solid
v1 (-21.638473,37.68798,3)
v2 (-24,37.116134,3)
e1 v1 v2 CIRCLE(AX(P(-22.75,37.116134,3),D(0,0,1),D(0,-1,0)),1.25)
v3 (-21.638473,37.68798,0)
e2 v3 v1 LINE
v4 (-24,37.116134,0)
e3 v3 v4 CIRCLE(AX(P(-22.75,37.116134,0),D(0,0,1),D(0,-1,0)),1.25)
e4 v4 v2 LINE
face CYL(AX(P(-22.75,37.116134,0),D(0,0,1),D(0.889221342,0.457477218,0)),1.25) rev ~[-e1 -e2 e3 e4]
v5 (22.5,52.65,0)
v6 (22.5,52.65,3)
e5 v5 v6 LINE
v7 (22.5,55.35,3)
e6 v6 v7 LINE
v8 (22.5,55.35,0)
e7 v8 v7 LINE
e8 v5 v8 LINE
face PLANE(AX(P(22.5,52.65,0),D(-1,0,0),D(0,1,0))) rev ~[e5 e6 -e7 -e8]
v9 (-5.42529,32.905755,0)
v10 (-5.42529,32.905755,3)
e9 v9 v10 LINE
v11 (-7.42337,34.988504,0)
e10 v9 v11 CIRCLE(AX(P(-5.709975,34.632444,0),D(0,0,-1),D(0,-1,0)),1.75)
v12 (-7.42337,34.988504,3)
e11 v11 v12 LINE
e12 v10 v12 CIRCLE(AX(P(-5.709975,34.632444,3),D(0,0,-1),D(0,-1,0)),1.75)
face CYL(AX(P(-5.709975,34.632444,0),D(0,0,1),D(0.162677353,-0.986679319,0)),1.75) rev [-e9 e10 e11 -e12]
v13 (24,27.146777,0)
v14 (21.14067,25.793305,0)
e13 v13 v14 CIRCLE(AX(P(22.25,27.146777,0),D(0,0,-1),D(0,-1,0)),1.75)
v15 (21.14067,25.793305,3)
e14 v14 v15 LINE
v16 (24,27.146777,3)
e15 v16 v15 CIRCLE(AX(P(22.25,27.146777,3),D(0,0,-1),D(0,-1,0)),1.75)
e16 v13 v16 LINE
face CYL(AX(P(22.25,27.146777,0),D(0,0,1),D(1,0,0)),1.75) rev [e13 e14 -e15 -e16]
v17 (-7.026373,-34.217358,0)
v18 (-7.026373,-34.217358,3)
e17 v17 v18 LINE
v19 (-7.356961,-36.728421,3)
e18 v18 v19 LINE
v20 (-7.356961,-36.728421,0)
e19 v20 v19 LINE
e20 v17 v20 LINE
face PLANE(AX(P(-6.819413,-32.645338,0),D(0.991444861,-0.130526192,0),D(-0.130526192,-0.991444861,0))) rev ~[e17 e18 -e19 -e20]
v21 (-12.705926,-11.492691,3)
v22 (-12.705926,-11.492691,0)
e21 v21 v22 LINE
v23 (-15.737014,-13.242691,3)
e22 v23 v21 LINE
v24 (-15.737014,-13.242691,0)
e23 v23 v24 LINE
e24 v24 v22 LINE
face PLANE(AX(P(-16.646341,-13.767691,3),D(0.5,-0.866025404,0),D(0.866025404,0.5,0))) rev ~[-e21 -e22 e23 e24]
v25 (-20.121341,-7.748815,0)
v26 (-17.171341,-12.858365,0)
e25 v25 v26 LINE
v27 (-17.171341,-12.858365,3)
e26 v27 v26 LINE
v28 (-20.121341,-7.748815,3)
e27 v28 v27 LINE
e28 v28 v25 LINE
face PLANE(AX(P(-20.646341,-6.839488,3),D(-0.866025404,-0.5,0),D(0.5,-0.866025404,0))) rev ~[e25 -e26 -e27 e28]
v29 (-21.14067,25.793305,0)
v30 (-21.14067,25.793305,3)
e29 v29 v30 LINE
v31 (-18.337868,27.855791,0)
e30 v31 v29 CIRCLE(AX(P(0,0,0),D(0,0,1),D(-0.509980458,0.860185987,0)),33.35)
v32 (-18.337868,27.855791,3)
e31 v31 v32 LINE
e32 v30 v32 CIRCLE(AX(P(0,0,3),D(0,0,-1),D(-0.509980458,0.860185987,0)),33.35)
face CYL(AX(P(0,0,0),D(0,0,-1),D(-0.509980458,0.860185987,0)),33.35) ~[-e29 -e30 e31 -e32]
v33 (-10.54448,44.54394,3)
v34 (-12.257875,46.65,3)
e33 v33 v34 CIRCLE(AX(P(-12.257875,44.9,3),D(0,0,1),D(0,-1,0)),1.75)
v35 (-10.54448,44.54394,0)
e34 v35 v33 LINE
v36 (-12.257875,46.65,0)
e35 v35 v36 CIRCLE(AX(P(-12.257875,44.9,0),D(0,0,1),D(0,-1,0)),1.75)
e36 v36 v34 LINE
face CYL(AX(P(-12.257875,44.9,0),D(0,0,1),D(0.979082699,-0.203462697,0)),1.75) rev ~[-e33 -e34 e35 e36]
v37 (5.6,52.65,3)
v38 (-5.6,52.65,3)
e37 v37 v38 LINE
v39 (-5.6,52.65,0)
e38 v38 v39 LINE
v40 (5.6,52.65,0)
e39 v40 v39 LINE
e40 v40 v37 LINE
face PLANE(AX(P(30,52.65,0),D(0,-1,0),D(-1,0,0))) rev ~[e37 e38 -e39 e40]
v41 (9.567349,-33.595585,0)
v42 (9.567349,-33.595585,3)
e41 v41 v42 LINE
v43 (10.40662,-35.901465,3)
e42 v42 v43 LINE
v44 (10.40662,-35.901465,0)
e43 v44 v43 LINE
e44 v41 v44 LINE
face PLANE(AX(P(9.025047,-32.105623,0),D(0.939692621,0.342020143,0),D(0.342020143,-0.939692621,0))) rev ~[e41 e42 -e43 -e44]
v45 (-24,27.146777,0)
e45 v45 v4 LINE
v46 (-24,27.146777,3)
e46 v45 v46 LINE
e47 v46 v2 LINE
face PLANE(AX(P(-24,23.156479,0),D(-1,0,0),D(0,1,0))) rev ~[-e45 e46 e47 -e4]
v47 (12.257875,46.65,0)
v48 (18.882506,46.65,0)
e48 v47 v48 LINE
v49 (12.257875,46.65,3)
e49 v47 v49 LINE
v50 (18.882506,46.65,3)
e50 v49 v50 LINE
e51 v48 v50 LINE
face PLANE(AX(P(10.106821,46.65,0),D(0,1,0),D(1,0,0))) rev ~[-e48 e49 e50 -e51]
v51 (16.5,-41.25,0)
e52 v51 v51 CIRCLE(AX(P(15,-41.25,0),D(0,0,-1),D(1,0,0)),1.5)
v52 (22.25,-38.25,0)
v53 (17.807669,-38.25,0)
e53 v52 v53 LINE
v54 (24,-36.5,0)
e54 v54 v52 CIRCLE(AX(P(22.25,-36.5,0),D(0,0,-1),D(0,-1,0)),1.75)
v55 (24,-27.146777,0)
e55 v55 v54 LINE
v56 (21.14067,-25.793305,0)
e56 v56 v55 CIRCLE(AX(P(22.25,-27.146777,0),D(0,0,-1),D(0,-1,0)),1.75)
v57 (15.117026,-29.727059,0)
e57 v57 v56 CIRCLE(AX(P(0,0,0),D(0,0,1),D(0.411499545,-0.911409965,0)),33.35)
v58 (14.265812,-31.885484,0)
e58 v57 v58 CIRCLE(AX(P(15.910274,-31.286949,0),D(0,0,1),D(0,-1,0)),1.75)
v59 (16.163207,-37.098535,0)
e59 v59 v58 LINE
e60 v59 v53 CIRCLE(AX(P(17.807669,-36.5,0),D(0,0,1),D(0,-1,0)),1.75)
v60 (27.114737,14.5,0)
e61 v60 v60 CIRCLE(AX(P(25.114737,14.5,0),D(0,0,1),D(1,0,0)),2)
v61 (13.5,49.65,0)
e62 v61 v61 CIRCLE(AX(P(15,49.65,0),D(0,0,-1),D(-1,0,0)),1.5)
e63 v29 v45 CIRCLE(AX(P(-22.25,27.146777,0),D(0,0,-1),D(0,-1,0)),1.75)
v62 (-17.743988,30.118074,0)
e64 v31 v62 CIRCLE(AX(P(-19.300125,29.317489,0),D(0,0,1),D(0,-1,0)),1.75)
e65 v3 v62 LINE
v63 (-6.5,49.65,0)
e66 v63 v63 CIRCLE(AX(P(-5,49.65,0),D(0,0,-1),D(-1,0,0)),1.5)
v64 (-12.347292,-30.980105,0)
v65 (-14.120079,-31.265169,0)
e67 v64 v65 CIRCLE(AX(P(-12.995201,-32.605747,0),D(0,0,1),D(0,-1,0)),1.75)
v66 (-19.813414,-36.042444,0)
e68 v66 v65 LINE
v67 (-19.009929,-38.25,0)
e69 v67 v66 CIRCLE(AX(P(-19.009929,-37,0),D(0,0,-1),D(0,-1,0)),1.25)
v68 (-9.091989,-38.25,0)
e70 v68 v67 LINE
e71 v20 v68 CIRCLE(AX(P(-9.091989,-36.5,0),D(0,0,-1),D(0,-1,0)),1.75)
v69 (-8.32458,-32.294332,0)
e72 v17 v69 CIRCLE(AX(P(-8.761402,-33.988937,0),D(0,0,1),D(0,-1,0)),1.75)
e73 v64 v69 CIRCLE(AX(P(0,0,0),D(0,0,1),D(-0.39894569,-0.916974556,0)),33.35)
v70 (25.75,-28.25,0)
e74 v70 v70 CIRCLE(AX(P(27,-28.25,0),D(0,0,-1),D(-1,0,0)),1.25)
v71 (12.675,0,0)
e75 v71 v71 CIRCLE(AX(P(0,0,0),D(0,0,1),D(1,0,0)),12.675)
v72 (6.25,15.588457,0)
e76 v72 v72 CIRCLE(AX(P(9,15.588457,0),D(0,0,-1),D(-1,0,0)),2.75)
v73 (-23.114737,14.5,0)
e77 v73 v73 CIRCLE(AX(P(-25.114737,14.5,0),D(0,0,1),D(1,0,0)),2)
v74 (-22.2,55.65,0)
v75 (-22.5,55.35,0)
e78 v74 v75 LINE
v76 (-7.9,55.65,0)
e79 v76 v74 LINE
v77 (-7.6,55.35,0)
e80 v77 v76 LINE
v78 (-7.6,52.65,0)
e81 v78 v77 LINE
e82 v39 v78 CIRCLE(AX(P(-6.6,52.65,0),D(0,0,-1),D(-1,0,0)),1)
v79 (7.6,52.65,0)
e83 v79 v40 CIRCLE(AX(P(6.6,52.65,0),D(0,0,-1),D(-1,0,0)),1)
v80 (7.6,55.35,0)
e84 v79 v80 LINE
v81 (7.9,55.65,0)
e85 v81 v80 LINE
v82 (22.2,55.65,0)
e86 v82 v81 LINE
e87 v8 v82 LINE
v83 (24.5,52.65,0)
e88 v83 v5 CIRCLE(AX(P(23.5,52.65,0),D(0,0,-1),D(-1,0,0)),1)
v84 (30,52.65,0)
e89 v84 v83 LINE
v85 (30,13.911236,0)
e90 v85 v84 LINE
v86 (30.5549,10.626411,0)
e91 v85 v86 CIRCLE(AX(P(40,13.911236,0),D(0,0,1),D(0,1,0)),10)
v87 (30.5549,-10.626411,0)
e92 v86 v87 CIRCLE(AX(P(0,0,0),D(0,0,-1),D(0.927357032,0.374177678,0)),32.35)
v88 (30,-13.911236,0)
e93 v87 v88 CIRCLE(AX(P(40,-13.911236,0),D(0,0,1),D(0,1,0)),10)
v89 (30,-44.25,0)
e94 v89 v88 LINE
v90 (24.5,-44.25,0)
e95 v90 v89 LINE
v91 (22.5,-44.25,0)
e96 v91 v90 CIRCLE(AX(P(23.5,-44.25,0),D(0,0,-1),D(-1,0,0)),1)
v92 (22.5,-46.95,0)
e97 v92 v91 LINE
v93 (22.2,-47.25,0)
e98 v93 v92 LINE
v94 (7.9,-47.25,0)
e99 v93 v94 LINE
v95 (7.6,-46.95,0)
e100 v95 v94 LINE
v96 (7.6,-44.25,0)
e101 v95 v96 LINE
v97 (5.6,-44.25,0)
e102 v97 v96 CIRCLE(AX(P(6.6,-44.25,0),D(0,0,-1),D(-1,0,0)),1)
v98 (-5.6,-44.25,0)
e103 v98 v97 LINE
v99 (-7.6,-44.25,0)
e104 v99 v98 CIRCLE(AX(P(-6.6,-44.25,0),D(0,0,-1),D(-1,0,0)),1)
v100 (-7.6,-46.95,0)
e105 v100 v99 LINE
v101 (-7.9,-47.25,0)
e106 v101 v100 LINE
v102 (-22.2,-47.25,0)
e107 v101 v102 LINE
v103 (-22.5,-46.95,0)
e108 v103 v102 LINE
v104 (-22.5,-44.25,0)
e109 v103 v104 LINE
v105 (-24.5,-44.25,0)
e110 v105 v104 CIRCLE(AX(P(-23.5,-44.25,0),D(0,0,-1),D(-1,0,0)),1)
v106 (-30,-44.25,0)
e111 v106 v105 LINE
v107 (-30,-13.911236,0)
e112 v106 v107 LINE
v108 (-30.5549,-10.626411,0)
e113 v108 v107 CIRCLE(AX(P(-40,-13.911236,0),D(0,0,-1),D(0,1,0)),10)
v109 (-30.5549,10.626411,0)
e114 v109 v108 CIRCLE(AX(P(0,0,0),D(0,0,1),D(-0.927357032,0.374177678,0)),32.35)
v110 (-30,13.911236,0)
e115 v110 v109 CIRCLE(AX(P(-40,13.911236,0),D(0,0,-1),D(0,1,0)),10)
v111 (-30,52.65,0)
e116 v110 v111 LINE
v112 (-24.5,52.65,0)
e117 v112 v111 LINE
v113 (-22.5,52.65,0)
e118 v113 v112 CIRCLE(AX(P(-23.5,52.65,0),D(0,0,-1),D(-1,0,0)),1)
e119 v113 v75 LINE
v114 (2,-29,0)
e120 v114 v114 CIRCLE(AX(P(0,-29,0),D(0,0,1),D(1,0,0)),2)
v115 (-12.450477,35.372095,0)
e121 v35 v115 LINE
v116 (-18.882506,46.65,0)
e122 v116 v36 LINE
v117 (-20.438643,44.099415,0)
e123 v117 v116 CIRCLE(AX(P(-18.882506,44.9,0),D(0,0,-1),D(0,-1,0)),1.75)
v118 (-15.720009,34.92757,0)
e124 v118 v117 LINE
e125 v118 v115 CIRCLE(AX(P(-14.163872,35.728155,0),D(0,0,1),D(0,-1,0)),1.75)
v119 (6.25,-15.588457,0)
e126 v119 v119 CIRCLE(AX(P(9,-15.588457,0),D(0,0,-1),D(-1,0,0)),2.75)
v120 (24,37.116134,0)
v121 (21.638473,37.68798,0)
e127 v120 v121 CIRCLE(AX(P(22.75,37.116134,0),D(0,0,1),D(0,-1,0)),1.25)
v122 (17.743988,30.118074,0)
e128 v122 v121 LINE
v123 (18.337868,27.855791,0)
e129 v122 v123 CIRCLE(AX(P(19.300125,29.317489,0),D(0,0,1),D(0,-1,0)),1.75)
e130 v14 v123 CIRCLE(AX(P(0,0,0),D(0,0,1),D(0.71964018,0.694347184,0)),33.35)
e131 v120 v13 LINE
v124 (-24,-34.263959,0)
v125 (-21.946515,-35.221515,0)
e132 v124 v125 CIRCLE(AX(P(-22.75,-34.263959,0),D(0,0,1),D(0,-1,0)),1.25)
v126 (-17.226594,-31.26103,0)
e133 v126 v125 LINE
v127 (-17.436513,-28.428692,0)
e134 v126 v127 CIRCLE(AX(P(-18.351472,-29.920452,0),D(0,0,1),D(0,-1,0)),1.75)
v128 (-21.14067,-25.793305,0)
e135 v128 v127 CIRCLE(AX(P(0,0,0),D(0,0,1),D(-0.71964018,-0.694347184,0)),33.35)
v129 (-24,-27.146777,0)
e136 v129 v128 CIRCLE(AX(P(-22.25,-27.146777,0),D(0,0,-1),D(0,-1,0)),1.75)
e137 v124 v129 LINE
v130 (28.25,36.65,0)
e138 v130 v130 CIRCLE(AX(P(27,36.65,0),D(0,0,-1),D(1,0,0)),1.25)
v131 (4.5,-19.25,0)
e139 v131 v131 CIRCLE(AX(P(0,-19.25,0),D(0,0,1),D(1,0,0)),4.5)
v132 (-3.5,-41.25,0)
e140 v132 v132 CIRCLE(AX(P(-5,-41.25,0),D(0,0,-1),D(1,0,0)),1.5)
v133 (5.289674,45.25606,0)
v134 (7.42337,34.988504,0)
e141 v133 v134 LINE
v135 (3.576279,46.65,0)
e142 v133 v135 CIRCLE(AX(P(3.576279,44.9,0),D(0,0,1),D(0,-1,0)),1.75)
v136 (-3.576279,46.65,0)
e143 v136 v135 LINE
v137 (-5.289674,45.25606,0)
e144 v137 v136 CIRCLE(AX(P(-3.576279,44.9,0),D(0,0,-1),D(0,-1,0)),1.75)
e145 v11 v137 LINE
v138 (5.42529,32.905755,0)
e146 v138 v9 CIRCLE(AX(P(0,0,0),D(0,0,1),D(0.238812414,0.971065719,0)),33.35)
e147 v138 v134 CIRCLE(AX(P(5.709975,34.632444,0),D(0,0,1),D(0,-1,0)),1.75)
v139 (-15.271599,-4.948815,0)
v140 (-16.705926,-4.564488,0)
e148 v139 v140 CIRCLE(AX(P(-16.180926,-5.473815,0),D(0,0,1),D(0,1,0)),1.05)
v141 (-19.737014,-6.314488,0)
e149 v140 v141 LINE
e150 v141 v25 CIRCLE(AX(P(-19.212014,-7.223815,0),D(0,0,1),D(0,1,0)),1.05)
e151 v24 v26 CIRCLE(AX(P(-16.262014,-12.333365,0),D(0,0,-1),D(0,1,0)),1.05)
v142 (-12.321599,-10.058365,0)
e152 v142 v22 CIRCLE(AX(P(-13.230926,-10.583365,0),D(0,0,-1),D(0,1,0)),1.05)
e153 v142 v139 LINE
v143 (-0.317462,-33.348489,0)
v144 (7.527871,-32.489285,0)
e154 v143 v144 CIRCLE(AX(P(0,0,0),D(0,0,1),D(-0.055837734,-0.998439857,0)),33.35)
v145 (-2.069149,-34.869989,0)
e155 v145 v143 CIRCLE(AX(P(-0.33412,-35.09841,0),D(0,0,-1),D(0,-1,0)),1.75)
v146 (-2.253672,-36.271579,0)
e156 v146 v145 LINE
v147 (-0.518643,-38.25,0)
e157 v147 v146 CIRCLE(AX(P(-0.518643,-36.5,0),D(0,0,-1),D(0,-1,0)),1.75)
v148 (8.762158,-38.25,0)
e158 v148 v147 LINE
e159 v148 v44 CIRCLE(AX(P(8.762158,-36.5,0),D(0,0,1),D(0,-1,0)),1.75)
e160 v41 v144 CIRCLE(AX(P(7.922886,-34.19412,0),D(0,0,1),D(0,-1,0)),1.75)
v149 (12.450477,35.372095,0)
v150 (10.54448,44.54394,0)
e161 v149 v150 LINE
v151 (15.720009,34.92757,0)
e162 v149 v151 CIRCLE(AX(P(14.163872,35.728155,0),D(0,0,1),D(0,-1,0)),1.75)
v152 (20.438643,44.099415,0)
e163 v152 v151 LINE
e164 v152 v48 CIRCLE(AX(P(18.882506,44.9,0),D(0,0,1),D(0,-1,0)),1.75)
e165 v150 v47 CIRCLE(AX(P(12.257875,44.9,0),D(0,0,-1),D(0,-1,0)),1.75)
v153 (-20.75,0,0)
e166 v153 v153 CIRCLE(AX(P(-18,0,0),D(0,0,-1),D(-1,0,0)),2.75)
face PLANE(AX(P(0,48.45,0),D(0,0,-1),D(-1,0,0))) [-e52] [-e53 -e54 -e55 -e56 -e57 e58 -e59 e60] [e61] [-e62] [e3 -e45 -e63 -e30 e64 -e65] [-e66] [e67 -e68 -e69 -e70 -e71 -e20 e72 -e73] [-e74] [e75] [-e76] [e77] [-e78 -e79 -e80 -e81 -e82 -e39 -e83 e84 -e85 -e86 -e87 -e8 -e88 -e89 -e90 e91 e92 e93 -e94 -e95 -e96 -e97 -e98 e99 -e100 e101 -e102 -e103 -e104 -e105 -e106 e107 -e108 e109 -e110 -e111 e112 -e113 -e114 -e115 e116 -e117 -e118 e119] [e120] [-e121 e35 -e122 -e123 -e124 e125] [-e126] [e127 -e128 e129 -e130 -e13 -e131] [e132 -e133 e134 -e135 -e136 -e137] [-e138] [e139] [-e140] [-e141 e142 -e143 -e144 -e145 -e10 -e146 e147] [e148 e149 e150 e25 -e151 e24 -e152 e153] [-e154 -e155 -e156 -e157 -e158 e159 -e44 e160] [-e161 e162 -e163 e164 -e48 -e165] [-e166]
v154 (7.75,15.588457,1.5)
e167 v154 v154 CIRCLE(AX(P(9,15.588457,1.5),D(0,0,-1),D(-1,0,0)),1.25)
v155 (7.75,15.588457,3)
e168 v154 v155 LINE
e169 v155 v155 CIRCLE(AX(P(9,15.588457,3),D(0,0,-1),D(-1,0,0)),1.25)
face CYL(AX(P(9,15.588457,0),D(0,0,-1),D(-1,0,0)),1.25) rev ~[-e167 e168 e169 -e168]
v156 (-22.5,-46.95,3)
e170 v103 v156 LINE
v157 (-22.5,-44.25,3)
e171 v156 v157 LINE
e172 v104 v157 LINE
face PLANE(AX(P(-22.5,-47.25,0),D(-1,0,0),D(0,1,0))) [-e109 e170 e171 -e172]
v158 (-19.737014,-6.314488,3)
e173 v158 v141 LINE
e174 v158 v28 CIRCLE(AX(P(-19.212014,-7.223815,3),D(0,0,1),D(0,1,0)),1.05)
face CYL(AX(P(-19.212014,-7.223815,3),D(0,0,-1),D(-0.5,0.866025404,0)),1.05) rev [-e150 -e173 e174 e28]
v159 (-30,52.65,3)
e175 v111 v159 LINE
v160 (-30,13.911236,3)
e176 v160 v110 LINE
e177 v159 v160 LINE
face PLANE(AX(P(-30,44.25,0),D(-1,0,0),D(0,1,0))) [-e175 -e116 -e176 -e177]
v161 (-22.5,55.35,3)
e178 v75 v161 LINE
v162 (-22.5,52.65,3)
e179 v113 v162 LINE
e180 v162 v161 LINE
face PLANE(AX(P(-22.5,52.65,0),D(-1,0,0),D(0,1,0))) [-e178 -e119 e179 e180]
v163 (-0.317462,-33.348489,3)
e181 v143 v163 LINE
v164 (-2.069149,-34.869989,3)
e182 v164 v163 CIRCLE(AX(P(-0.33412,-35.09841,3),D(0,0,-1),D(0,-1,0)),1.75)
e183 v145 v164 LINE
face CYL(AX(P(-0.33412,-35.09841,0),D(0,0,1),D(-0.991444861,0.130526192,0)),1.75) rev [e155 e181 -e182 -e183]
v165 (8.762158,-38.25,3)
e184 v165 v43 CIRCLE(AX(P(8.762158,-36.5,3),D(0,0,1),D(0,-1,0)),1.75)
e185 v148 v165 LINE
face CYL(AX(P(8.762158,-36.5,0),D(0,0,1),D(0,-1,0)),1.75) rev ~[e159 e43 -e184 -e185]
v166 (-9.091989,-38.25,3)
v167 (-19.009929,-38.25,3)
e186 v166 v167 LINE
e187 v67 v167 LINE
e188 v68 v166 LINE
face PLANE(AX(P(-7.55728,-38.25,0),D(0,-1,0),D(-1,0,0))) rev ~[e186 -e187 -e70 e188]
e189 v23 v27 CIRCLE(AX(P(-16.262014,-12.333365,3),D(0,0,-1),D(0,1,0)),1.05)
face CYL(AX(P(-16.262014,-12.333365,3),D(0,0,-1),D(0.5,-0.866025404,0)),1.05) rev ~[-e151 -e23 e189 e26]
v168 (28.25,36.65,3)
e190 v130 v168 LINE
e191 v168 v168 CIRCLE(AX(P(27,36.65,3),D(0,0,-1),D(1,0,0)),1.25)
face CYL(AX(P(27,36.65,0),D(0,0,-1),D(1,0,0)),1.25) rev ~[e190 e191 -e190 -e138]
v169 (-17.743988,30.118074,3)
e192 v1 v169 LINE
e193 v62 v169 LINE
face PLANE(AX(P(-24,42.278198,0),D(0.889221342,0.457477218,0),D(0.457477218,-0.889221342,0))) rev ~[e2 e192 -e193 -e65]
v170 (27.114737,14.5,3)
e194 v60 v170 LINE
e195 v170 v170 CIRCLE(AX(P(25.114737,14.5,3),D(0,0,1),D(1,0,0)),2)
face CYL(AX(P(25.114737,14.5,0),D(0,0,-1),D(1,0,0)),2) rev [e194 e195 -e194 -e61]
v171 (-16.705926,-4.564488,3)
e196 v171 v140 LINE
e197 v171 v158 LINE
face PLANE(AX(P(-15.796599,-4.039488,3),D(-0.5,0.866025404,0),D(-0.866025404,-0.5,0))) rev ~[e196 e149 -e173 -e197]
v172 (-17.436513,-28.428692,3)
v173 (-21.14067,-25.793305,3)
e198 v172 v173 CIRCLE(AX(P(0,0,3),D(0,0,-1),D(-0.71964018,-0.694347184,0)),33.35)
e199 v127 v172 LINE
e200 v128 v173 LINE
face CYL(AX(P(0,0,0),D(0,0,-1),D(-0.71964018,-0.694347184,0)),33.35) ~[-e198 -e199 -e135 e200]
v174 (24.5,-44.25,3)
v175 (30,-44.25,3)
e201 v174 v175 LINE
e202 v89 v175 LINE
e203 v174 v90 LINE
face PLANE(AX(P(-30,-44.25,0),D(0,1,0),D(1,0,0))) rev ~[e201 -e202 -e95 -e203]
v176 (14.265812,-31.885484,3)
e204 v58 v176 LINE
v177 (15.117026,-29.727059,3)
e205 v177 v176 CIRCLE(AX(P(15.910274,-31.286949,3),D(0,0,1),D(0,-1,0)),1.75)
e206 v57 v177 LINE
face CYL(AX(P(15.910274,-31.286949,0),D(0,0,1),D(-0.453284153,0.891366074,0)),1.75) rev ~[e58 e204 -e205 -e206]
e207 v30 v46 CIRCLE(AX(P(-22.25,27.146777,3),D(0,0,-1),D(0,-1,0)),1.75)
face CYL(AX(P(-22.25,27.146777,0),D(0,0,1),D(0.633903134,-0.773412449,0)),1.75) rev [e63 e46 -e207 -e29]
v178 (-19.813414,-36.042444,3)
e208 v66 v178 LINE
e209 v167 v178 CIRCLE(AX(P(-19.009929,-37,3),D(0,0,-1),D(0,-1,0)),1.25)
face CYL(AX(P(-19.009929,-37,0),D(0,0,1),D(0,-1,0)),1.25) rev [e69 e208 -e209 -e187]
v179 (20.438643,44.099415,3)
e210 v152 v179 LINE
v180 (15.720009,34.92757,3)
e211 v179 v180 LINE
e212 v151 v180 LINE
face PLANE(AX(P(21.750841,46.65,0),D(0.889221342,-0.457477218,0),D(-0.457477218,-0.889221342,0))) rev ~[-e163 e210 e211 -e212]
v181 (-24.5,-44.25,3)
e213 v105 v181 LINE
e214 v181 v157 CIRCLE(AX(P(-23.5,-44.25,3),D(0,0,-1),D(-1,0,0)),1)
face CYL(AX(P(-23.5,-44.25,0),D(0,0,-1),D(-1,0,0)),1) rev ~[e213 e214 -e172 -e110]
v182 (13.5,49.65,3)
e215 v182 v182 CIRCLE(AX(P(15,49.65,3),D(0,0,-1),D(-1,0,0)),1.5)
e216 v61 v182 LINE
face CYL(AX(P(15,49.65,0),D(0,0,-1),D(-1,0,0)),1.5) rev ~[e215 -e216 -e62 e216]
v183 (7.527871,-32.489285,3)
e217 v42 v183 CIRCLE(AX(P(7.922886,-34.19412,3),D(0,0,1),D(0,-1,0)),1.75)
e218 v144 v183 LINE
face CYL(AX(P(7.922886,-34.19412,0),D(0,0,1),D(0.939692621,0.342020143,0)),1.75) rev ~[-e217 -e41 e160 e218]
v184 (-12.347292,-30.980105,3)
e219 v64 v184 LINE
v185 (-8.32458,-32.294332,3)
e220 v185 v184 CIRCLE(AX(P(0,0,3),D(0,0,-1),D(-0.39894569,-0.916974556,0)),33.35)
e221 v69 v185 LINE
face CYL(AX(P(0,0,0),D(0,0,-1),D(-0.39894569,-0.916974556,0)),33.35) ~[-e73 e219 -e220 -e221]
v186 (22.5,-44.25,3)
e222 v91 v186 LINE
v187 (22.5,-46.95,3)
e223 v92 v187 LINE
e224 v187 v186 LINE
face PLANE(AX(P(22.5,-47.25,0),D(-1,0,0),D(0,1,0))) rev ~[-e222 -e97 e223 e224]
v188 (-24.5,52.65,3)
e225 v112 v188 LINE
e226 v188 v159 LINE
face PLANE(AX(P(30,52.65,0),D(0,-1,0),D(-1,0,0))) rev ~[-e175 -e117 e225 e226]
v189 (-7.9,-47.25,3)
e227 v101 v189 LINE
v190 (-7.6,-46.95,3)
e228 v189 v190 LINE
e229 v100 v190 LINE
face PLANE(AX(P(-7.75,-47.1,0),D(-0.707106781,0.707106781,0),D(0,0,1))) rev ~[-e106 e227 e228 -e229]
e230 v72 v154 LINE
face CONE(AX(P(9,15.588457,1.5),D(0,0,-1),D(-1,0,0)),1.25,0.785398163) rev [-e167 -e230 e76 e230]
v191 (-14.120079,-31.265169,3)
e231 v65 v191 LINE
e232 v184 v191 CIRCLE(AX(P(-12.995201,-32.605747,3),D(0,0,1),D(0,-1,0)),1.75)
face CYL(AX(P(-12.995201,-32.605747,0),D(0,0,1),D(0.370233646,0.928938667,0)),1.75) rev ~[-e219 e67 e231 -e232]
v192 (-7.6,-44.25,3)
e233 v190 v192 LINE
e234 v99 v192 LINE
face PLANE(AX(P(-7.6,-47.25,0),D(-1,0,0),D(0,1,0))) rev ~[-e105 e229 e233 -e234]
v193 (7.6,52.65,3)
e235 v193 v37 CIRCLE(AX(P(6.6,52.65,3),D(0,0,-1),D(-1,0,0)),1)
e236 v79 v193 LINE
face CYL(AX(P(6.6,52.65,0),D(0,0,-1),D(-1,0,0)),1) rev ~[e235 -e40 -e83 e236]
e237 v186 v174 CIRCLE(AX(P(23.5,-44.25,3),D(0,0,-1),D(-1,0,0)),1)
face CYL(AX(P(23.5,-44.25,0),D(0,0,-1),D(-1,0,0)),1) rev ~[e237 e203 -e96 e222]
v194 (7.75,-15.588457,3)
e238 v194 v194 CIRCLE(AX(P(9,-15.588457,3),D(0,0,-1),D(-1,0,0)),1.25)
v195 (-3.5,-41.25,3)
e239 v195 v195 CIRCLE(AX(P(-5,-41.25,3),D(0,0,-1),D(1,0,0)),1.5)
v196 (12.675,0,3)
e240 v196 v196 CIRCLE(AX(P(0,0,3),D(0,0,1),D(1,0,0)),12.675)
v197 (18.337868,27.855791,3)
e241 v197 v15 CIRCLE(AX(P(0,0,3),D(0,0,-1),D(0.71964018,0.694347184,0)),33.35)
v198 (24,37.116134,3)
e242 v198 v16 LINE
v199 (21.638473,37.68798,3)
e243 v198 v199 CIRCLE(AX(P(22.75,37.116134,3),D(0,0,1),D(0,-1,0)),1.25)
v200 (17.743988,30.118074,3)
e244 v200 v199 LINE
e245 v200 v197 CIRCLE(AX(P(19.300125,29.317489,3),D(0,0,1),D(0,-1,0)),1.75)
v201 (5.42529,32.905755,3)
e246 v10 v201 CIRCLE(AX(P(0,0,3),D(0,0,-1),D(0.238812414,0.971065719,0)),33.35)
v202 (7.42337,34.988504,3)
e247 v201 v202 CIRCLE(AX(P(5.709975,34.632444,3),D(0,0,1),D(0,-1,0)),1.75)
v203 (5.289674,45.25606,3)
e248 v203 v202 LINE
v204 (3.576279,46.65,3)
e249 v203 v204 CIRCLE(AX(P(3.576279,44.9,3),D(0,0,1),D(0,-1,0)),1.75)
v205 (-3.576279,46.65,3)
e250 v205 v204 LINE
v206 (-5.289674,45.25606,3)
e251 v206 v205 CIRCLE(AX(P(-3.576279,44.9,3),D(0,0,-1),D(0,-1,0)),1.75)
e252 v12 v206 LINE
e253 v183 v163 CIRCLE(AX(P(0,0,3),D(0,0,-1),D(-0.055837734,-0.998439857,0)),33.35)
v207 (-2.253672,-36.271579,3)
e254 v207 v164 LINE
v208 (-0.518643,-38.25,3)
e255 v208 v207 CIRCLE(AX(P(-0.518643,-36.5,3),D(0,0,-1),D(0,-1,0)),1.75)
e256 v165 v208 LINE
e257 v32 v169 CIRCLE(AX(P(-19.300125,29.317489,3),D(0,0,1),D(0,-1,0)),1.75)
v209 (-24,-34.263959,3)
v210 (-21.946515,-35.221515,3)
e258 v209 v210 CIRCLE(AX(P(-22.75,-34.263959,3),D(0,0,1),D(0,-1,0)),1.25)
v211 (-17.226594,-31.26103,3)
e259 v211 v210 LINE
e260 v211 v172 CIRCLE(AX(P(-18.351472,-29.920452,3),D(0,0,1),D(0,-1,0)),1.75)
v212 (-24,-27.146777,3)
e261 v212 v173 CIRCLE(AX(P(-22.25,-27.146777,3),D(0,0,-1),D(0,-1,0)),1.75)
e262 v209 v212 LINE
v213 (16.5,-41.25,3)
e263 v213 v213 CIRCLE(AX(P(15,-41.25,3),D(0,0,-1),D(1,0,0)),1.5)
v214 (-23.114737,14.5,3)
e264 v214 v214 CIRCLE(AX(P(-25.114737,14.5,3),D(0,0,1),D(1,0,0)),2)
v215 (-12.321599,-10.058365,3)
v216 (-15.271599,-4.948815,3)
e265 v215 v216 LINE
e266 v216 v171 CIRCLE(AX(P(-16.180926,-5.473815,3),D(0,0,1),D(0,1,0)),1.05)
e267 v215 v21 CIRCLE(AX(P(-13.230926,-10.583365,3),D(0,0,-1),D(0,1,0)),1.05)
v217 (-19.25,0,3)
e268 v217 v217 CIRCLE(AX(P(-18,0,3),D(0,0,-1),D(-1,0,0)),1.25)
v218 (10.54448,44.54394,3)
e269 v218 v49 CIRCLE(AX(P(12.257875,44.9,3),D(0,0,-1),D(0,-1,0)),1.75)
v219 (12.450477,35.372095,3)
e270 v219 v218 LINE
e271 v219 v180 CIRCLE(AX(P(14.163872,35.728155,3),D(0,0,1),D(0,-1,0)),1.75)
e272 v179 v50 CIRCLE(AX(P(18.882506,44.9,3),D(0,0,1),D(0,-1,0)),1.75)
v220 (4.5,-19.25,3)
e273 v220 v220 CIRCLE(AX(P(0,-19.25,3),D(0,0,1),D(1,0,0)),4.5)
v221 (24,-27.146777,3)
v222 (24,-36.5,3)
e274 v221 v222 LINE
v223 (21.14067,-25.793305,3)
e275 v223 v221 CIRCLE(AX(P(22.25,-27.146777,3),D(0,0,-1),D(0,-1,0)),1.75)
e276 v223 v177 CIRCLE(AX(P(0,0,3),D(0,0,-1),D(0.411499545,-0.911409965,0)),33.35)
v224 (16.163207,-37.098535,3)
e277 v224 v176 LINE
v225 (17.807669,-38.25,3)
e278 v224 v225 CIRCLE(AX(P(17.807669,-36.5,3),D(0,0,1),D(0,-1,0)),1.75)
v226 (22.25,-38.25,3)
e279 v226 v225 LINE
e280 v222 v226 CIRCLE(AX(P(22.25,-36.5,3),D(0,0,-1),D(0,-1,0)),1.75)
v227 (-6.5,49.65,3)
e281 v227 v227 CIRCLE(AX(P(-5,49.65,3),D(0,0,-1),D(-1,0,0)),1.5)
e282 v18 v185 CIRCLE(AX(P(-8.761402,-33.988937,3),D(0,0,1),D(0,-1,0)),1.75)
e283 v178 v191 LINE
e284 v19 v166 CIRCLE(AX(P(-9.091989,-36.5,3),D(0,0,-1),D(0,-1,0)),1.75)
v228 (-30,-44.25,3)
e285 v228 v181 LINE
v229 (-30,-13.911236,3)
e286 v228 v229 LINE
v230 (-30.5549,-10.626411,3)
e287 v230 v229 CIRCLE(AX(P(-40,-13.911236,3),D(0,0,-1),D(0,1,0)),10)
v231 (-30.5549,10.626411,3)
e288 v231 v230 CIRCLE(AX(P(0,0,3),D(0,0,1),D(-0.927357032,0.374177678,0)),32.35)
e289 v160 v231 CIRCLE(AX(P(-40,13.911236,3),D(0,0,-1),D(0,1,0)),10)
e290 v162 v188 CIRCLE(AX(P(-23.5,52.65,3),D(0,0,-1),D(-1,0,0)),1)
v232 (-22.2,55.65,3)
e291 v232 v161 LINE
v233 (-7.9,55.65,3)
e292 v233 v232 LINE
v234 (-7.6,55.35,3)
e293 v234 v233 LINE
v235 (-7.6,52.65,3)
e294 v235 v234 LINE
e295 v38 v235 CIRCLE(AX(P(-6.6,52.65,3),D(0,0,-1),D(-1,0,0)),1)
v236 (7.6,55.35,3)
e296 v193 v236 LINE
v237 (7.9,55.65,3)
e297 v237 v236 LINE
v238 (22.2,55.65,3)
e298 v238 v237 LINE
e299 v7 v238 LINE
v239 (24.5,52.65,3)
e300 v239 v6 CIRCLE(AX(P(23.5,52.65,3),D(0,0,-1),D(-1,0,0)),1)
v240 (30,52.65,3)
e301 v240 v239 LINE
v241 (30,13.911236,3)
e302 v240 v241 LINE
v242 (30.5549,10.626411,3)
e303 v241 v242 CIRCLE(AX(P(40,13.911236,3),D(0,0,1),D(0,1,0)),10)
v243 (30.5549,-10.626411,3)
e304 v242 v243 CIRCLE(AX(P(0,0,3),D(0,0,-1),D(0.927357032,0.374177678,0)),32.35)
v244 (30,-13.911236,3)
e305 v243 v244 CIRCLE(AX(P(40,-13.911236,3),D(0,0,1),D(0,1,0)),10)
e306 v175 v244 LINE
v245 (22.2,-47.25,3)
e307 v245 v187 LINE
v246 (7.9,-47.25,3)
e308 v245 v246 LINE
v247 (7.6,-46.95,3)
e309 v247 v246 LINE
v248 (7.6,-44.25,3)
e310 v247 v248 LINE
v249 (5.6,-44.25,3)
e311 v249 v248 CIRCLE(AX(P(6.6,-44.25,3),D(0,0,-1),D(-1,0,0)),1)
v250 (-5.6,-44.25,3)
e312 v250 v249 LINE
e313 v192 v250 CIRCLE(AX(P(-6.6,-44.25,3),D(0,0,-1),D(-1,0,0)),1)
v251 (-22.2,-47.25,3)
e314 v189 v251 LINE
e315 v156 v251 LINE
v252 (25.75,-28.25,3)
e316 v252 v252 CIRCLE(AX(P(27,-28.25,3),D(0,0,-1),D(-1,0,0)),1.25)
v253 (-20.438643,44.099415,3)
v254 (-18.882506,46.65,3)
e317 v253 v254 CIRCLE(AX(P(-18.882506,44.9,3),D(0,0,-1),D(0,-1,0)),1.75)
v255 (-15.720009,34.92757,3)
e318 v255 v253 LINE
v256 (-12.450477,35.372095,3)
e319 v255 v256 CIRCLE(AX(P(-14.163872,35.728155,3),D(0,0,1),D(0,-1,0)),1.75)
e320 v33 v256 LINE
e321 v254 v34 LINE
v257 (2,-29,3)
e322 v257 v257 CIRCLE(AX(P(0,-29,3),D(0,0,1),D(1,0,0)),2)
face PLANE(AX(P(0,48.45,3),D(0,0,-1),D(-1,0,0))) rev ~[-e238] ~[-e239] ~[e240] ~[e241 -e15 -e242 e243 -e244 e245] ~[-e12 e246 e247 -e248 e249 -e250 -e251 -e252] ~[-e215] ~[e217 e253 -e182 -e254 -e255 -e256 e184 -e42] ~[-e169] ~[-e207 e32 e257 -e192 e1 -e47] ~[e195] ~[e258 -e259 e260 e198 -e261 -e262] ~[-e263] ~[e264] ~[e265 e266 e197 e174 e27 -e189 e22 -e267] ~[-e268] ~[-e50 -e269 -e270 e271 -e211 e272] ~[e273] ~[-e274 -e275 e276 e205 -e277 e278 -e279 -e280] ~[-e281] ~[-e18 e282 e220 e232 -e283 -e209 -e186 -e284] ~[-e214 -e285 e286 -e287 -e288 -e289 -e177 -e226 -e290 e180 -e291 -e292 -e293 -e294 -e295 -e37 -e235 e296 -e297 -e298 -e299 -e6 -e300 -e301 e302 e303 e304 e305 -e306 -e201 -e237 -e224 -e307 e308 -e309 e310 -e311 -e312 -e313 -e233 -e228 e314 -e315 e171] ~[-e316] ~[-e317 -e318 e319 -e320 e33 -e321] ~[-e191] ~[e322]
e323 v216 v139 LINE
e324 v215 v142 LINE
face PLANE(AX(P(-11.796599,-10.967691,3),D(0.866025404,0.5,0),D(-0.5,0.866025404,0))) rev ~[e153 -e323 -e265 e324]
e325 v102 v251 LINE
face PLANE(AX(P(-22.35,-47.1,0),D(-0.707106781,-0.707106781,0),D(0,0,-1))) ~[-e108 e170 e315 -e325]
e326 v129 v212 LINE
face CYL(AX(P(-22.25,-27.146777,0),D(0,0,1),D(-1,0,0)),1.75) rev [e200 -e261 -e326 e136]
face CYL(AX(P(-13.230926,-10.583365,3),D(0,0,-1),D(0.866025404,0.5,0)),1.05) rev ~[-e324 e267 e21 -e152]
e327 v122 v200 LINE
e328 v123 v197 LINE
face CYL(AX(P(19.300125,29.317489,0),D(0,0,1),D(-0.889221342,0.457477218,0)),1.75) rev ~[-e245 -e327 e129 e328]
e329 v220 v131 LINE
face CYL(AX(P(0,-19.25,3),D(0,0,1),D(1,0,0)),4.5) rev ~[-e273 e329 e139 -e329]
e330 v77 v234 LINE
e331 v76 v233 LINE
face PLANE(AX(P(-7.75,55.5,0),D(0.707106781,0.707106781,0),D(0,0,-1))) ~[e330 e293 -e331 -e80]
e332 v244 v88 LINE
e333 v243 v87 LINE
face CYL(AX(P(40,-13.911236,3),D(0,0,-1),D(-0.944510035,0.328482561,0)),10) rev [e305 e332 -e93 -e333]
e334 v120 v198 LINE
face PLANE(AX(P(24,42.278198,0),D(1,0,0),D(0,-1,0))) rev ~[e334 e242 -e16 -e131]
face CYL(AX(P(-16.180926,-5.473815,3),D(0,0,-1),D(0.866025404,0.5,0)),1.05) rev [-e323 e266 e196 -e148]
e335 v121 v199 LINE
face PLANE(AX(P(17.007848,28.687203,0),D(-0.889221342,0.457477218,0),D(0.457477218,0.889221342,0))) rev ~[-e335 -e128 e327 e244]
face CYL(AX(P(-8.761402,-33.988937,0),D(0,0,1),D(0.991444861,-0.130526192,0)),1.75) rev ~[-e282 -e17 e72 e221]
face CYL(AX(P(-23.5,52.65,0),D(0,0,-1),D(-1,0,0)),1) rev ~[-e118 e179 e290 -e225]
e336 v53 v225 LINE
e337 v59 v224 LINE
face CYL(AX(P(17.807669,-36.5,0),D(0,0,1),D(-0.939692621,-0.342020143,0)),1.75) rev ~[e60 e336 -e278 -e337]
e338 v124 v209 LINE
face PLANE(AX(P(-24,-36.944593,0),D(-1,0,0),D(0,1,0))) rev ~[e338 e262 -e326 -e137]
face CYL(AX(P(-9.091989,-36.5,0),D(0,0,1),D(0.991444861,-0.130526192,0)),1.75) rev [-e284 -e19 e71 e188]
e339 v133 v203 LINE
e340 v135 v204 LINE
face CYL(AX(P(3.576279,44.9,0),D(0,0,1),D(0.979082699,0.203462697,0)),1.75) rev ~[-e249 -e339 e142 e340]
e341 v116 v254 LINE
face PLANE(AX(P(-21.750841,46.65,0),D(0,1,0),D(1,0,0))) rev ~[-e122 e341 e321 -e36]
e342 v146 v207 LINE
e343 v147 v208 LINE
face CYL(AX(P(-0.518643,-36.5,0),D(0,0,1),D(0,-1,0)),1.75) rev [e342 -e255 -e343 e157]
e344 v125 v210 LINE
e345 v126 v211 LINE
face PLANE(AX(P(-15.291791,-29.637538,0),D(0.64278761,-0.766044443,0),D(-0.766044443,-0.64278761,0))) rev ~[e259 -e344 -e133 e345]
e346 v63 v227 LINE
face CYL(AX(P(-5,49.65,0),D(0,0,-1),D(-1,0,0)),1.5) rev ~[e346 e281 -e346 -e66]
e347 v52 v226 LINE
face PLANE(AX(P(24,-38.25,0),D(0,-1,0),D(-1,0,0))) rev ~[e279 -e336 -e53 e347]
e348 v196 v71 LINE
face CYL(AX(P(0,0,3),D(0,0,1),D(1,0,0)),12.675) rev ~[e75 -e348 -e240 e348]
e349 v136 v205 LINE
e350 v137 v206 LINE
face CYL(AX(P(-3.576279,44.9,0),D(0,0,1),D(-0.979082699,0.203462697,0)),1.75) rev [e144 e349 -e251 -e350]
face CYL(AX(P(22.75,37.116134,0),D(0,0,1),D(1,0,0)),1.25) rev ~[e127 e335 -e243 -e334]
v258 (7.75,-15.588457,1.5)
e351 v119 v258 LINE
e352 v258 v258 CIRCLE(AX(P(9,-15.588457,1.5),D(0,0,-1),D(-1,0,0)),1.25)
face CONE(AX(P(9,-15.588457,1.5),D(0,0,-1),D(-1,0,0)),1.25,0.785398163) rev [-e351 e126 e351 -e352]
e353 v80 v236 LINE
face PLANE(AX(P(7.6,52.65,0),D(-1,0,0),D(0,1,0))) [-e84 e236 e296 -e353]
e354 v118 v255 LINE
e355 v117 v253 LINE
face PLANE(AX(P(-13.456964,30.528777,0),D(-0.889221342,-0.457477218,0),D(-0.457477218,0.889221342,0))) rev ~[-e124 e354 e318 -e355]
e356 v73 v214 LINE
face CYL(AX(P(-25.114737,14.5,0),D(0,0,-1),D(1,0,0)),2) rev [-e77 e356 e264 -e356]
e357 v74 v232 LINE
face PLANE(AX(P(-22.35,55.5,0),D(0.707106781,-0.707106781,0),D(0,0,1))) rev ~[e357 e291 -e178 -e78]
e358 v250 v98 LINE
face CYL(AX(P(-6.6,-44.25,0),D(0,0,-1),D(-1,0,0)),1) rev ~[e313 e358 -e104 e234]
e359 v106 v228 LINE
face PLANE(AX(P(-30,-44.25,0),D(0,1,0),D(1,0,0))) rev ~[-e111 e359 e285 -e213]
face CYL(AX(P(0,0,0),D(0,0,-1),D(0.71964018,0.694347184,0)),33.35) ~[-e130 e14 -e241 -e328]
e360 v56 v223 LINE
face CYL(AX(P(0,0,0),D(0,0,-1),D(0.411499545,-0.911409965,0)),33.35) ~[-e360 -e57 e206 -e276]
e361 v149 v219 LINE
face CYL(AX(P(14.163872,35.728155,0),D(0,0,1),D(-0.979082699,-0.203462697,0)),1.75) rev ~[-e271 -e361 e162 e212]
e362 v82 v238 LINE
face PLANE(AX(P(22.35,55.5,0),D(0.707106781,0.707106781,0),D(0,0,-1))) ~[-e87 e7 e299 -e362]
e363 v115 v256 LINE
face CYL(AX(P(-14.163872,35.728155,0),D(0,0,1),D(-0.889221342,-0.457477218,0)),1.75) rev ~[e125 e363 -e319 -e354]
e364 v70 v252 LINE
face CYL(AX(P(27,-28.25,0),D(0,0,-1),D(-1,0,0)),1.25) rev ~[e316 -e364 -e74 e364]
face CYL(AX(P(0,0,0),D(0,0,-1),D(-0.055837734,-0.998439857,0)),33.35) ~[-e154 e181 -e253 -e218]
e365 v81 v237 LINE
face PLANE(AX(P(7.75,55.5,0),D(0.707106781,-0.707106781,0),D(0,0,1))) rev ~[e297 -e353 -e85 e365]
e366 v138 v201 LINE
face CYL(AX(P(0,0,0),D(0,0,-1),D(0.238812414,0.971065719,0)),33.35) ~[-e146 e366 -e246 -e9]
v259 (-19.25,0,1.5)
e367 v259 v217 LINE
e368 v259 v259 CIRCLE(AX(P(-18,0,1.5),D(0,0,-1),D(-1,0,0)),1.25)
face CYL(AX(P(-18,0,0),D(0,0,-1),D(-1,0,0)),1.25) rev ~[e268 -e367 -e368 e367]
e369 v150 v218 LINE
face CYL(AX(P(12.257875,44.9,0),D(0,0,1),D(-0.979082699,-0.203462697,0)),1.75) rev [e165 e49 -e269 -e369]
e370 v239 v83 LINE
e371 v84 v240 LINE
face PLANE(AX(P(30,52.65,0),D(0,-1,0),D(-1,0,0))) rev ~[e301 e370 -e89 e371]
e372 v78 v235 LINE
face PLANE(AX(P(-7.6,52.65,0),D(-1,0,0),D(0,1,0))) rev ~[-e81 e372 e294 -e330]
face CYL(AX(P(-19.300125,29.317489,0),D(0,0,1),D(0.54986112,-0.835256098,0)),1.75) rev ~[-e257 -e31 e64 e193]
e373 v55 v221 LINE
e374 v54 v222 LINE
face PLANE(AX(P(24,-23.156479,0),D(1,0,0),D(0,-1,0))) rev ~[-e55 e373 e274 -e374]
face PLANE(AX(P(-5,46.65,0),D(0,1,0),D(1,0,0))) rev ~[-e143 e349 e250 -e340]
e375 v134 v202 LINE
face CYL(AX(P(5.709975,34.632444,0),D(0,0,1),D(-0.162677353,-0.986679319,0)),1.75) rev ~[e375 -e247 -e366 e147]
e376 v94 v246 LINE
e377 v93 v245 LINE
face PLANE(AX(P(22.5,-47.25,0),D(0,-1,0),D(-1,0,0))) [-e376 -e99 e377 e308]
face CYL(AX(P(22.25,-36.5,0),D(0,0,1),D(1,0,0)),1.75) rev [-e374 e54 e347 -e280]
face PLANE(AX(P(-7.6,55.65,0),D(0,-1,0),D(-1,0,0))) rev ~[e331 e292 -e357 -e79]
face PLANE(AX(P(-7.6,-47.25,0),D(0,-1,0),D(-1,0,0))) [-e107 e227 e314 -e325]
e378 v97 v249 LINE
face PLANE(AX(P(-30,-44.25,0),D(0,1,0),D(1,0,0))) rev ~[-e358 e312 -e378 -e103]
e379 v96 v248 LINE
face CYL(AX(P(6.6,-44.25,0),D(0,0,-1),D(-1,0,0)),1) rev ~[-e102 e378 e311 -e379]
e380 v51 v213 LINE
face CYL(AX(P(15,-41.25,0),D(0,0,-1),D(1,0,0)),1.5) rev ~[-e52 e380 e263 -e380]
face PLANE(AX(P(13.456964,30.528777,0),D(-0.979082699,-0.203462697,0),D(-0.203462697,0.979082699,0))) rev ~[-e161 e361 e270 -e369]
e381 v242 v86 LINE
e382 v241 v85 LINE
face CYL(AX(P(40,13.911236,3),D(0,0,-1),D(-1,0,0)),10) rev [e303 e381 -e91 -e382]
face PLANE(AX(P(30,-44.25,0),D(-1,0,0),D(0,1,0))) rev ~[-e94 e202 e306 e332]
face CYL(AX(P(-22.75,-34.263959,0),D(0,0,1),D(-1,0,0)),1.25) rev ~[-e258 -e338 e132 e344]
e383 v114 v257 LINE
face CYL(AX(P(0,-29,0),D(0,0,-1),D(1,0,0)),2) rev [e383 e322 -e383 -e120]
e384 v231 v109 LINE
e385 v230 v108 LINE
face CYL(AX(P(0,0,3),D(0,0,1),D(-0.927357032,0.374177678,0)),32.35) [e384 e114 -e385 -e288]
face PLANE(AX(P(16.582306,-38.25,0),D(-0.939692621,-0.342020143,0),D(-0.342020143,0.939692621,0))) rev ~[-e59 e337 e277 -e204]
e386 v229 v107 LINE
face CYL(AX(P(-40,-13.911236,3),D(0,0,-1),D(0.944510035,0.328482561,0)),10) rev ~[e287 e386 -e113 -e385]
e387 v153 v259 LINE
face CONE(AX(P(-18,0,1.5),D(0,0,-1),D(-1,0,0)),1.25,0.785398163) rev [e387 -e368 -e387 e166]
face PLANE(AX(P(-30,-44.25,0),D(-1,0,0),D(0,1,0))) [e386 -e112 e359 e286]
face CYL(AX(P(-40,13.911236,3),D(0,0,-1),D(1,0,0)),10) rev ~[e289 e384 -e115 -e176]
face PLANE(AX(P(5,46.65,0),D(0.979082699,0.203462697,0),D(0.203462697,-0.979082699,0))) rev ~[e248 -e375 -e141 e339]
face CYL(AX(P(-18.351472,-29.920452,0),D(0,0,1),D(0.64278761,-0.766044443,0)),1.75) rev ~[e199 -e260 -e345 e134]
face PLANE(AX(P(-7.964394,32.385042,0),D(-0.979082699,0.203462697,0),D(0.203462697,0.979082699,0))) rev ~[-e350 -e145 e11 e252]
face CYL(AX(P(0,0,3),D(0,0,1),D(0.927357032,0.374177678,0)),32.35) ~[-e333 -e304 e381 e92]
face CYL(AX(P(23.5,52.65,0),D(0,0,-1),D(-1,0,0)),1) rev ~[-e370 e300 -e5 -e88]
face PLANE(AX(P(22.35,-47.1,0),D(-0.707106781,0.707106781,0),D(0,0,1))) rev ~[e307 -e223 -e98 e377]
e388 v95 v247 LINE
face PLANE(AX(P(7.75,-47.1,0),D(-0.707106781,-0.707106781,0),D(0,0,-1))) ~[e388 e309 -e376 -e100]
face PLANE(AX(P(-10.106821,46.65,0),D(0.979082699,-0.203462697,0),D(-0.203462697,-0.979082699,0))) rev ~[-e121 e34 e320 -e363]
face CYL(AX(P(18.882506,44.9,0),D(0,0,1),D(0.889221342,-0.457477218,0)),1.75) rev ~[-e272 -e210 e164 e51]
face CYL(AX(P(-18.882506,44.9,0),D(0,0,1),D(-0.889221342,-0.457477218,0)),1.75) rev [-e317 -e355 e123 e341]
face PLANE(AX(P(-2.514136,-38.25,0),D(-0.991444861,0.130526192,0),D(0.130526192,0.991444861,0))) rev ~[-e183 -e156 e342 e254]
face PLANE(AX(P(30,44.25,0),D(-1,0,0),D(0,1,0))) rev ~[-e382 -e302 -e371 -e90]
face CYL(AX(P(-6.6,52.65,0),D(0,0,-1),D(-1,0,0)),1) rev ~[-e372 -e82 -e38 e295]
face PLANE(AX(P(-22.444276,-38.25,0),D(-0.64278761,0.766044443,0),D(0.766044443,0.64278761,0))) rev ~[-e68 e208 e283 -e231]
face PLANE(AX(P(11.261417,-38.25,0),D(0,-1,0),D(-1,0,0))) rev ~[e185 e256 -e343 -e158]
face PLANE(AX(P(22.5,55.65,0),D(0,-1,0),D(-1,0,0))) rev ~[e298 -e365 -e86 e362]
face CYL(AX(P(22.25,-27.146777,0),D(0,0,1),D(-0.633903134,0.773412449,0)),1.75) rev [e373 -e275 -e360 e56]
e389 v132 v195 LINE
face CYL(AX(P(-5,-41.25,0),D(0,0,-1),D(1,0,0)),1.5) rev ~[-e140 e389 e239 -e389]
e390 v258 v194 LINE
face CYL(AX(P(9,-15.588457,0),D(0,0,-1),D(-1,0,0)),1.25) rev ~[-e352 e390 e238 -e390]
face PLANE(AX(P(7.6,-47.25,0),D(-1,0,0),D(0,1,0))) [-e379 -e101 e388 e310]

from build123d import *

# Parameters (mm, degrees)
SKETCH_1_W          = 60
SKETCH_1_H          = 88.5
SKETCH_1_R          = 2
EXTRUDE_1_DEPTH     = 3
SKETCH_2_R          = 12.675
CUT_EXTRUDE_1_DEPTH = 3
SKETCH_5_R          = 4.5
CUT_EXTRUDE_2_DEPTH = 10
EXTRUDE_2_DEPTH     = 3
SKETCH_7_W          = 60
SKETCH_7_H          = 8.4
EXTRUDE_3_DEPTH     = 3
CUT_EXTRUDE_3_DEPTH = 10
SKETCH_9_R          = 1.5
SKETCH_9_R_2        = 1.25
CUT_EXTRUDE_4_DEPTH = 62.867156068
SKETCH_10_W         = 14.9
SKETCH_10_H         = 3
EXTRUDE_4_DEPTH     = 3
SKETCH_11_R         = 1
CUT_EXTRUDE_5_DEPTH = 65.43946772
CHAMFER_1_SIZE      = 0.3
SKETCH_12_R         = 1.25
CUT_EXTRUDE_6_DEPTH = 65.43946772
FILLET_3_R          = 10
FILLET_4_R          = 1.75
FILLET_5_R          = 1.05
FILLET_6_R          = 1.25
CHAMFER_2_SIZE      = 1.5


with BuildPart() as part:
    # 草图1 → 凸台-拉伸1 (new body)
    with BuildSketch(Plane.XY):
        Rectangle(SKETCH_1_W, SKETCH_1_H)
        with Locations((25.11473671, 14.5)):
            Circle(SKETCH_1_R, mode=Mode.SUBTRACT)
        with Locations((0, -29)):
            Circle(SKETCH_1_R, mode=Mode.SUBTRACT)
        with Locations((-25.11473671, 14.5)):
            Circle(SKETCH_1_R, mode=Mode.SUBTRACT)
    extrude(amount=EXTRUDE_1_DEPTH)

    # 草图2 → 切除-拉伸1 (cut)
    with BuildSketch(Plane.XY.offset(3)):
        Circle(SKETCH_2_R)
    extrude(amount=-CUT_EXTRUDE_1_DEPTH, mode=Mode.SUBTRACT)

    # 草图5 → 切除-拉伸2 (cut)
    with BuildSketch(Plane.XY.offset(3)):
        with Locations((0, -19.25)):
            Circle(SKETCH_5_R)
        Polygon((-11.796598839, -10.967691454), (-15.796598839, -4.039488223), (-20.646341101, -6.839488223), (-16.646341101, -13.767691454), align=None)
    extrude(amount=-CUT_EXTRUDE_2_DEPTH, mode=Mode.SUBTRACT)

    # 草图6 → 凸台-拉伸2 (add)
    with BuildSketch(Plane.XY.offset(3)):
        with BuildLine():
            ThreePointArc((-30, 12.104647868), (-32.35, 0), (-30, -12.104647868))
            Line((-30, -12.104647868), (-30, 12.104647868))
        make_face()
        with BuildLine():
            Line((30, -12.104647868), (30, 12.104647868))
            ThreePointArc((30, 12.104647868), (32.35, 0), (30, -12.104647868))
        make_face()
    extrude(amount=-EXTRUDE_2_DEPTH)

    # 草图7 → 凸台-拉伸3 (add)
    with BuildSketch(Plane(origin=(0, 0, 0), x_dir=(-1, 0, 0), z_dir=(0, 0, -1))):
        with Locations((0, 48.45)):
            Rectangle(SKETCH_7_W, SKETCH_7_H)
    extrude(amount=-EXTRUDE_3_DEPTH)

    # 草图8 → 切除-拉伸3 (cut)
    with BuildSketch(Plane(origin=(0, 0, 0), x_dir=(-1, 0, 0), z_dir=(0, 0, -1))):
        with BuildLine():
            Line((-24, 42.278197597), (-24, 23.156478575))
            ThreePointArc((-24, 23.156478575), (-20.689565781, 26.156535852), (-17.007848271, 28.687202673))
            Line((-17.007848271, 28.687202673), (-24, 42.278197597))
        make_face()
        Polygon((-13.456964392, 30.52877694), (-10.106820911, 46.65), (-21.750841208, 46.65), align=None)
        with BuildLine():
            ThreePointArc((-7.964394001, 32.385041735), (0, 33.35), (7.964394001, 32.385041735))
            Line((7.964394001, 32.385041735), (5, 46.65))
            Line((5, 46.65), (-5, 46.65))
            Line((-5, 46.65), (-7.964394001, 32.385041735))
        make_face()
        Polygon((13.456964392, 30.52877694), (21.750841208, 46.65), (10.106820911, 46.65), align=None)
        with BuildLine():
            ThreePointArc((17.007848271, 28.687202673), (20.689565781, 26.156535852), (24, 23.156478575))
            Line((24, 23.156478575), (24, 42.278197597))
            Line((24, 42.278197597), (17.007848271, 28.687202673))
        make_face()
        with BuildLine():
            Line((-11.261417029, -38.25), (2.514135631, -38.25))
            Line((2.514135631, -38.25), (1.862188411, -33.297969222))
            ThreePointArc((1.862188411, -33.297969222), (-3.630710276, -33.15177888), (-9.025046714, -32.105623056))
            Line((-9.025046714, -32.105623056), (-11.261417029, -38.25))
        make_face()
        with BuildLine():
            ThreePointArc((-13.723509818, -30.395522339), (-19.205903699, -27.264551401), (-24, -23.156478575))
            Line((-24, -23.156478575), (-24, -38.25))
            Line((-24, -38.25), (-16.582305892, -38.25))
            Line((-16.582305892, -38.25), (-13.723509818, -30.395522339))
        make_face()
        with BuildLine():
            Line((6.819412718, -32.645338261), (7.557280434, -38.25))
            Line((7.557280434, -38.25), (22.444276173, -38.25))
            Line((22.444276173, -38.25), (13.304838766, -30.581101442))
            ThreePointArc((13.304838766, -30.581101442), (10.114921792, -31.779094656), (6.819412718, -32.645338261))
        make_face()
        with BuildLine():
            Line((24, -36.944592711), (24, -23.156478575))
            ThreePointArc((24, -23.156478575), (19.911359511, -26.753696239), (15.291790802, -29.637537584))
            Line((15.291790802, -29.637537584), (24, -36.944592711))
        make_face()
    extrude(amount=-CUT_EXTRUDE_3_DEPTH, mode=Mode.SUBTRACT)

    # 草图9 → 切除-拉伸4 (cut, through all)
    with BuildSketch(Plane(origin=(0, 0, 0), x_dir=(-1, 0, 0), z_dir=(0, 0, -1))):
        with Locations((5, 49.65)):
            Circle(SKETCH_9_R)
        with Locations((-15, 49.65)):
            Circle(SKETCH_9_R)
        with Locations(Location((5, -41.25, 0), (0, 0, 180))):
            Circle(SKETCH_9_R)
        with Locations(Location((-15, -41.25, 0), (0, 0, 180))):
            Circle(SKETCH_9_R)
        with Locations((-27, -28.25)):
            Circle(SKETCH_9_R_2)
        with Locations(Location((-27, 36.65, 0), (0, 0, 180))):
            Circle(SKETCH_9_R_2)
    extrude(amount=-CUT_EXTRUDE_4_DEPTH, mode=Mode.SUBTRACT)

    # 草图10 → 凸台-拉伸4 (add)
    with BuildSketch(Plane(origin=(0, 0, 0), x_dir=(-1, 0, 0), z_dir=(0, 0, -1))):
        with Locations((-15.05, 54.15)):
            Rectangle(SKETCH_10_W, SKETCH_10_H)
        with Locations((15.05, 54.15)):
            Rectangle(SKETCH_10_W, SKETCH_10_H)
        with Locations((15.05, -45.75)):
            Rectangle(SKETCH_10_W, SKETCH_10_H)
        with Locations((-15.05, -45.75)):
            Rectangle(SKETCH_10_W, SKETCH_10_H)
    extrude(amount=-EXTRUDE_4_DEPTH)

    # 草图11 → 切除-拉伸5 (cut, through all)
    with BuildSketch(Plane(origin=(0, 0, 0), x_dir=(-1, 0, 0), z_dir=(0, 0, -1))):
        with Locations((-23.5, 52.65)):
            Circle(SKETCH_11_R)
        with Locations((-6.6, 52.65)):
            Circle(SKETCH_11_R)
        with Locations((6.6, 52.65)):
            Circle(SKETCH_11_R)
        with Locations((23.5, 52.65)):
            Circle(SKETCH_11_R)
        with Locations((23.5, -44.25)):
            Circle(SKETCH_11_R)
        with Locations((6.6, -44.25)):
            Circle(SKETCH_11_R)
        with Locations((-6.6, -44.25)):
            Circle(SKETCH_11_R)
        with Locations((-23.5, -44.25)):
            Circle(SKETCH_11_R)
    extrude(amount=-CUT_EXTRUDE_5_DEPTH, mode=Mode.SUBTRACT)

    # 倒角1
    chamfer_1_edges = [part.edges().sort_by_distance(p)[0] for p in [
        (7.6, 55.65, 1.5),
        (22.5, 55.65, 1.5),
        (-7.6, 55.65, 1.5),
        (-22.5, 55.65, 1.5),
        (-7.6, -47.25, 1.5),
        (-22.5, -47.25, 1.5),
        (7.6, -47.25, 1.5),
        (22.5, -47.25, 1.5),
    ]]
    chamfer(chamfer_1_edges, length=CHAMFER_1_SIZE)

    # 草图12 → 切除-拉伸6 (cut, through all)
    with BuildSketch(Plane(origin=(0, 0, 0), x_dir=(-1, 0, 0), z_dir=(0, 0, -1))):
        with Locations((-9, 15.588457268)):
            Circle(SKETCH_12_R)
        with Locations((18, 0)):
            Circle(SKETCH_12_R)
        with Locations((-9, -15.588457268)):
            Circle(SKETCH_12_R)
    extrude(amount=-CUT_EXTRUDE_6_DEPTH, mode=Mode.SUBTRACT)

    # 圆角3
    fillet_3_edges = [part.edges().sort_by_distance(p)[0] for p in [
        (-30, 12.104647868, 1.5),
        (-30, -12.104647868, 1.5),
        (30, -12.104647868, 1.5),
        (30, 12.104647868, 1.5),
    ]]
    fillet(fillet_3_edges, radius=FILLET_3_R)

    # 圆角4
    fillet_4_edges = [part.edges().sort_by_distance(p)[0] for p in [
        (-6.819412718, -32.645338261, 1.5),
        (-13.304838766, -30.581101442, 1.5),
        (-7.557280434, -38.25, 1.5),
        (-15.291790802, -29.637537584, 1.5),
        (-24, -23.156478575, 1.5),
        (24, -23.156478575, 1.5),
        (13.723509818, -30.395522339, 1.5),
        (16.582305892, -38.25, 1.5),
        (24, -38.25, 1.5),
        (9.025046714, -32.105623056, 1.5),
        (-1.862188411, -33.297969222, 1.5),
        (-2.514135631, -38.25, 1.5),
        (11.261417029, -38.25, 1.5),
        (-10.106820911, 46.65, 1.5),
        (-21.750841208, 46.65, 1.5),
        (-13.456964392, 30.52877694, 1.5),
        (-24, 23.156478575, 1.5),
        (-17.007848271, 28.687202673, 1.5),
        (-7.964394001, 32.385041735, 1.5),
        (7.964394001, 32.385041735, 1.5),
        (5, 46.65, 1.5),
        (-5, 46.65, 1.5),
        (10.106820911, 46.65, 1.5),
        (13.456964392, 30.52877694, 1.5),
        (21.750841208, 46.65, 1.5),
        (17.007848271, 28.687202673, 1.5),
        (24, 23.156478575, 1.5),
    ]]
    fillet(fillet_4_edges, radius=FILLET_4_R)

    # 圆角5
    fillet_5_edges = [part.edges().sort_by_distance(p)[0] for p in [
        (-16.646341101, -13.767691454, 1.5),
        (-20.646341101, -6.839488223, 1.5),
        (-15.796598839, -4.039488223, 1.5),
        (-11.796598839, -10.967691454, 1.5),
    ]]
    fillet(fillet_5_edges, radius=FILLET_5_R)

    # 圆角6
    fillet_6_edges = [part.edges().sort_by_distance(p)[0] for p in [
        (-22.444276173, -38.25, 1.5),
        (-24, -36.944592711, 1.5),
        (-24, 42.278197597, 1.5),
        (24, 42.278197597, 1.5),
    ]]
    fillet(fillet_6_edges, radius=FILLET_6_R)

    # 倒角2
    chamfer_2_edges = [part.edges().sort_by_distance(p)[0] for p in [
        (10.25, 15.588457268, 0),
        (-16.75, 0, 0),
        (10.25, -15.588457268, 0),
    ]]
    chamfer(chamfer_2_edges, length=CHAMFER_2_SIZE)


solid = part.part
